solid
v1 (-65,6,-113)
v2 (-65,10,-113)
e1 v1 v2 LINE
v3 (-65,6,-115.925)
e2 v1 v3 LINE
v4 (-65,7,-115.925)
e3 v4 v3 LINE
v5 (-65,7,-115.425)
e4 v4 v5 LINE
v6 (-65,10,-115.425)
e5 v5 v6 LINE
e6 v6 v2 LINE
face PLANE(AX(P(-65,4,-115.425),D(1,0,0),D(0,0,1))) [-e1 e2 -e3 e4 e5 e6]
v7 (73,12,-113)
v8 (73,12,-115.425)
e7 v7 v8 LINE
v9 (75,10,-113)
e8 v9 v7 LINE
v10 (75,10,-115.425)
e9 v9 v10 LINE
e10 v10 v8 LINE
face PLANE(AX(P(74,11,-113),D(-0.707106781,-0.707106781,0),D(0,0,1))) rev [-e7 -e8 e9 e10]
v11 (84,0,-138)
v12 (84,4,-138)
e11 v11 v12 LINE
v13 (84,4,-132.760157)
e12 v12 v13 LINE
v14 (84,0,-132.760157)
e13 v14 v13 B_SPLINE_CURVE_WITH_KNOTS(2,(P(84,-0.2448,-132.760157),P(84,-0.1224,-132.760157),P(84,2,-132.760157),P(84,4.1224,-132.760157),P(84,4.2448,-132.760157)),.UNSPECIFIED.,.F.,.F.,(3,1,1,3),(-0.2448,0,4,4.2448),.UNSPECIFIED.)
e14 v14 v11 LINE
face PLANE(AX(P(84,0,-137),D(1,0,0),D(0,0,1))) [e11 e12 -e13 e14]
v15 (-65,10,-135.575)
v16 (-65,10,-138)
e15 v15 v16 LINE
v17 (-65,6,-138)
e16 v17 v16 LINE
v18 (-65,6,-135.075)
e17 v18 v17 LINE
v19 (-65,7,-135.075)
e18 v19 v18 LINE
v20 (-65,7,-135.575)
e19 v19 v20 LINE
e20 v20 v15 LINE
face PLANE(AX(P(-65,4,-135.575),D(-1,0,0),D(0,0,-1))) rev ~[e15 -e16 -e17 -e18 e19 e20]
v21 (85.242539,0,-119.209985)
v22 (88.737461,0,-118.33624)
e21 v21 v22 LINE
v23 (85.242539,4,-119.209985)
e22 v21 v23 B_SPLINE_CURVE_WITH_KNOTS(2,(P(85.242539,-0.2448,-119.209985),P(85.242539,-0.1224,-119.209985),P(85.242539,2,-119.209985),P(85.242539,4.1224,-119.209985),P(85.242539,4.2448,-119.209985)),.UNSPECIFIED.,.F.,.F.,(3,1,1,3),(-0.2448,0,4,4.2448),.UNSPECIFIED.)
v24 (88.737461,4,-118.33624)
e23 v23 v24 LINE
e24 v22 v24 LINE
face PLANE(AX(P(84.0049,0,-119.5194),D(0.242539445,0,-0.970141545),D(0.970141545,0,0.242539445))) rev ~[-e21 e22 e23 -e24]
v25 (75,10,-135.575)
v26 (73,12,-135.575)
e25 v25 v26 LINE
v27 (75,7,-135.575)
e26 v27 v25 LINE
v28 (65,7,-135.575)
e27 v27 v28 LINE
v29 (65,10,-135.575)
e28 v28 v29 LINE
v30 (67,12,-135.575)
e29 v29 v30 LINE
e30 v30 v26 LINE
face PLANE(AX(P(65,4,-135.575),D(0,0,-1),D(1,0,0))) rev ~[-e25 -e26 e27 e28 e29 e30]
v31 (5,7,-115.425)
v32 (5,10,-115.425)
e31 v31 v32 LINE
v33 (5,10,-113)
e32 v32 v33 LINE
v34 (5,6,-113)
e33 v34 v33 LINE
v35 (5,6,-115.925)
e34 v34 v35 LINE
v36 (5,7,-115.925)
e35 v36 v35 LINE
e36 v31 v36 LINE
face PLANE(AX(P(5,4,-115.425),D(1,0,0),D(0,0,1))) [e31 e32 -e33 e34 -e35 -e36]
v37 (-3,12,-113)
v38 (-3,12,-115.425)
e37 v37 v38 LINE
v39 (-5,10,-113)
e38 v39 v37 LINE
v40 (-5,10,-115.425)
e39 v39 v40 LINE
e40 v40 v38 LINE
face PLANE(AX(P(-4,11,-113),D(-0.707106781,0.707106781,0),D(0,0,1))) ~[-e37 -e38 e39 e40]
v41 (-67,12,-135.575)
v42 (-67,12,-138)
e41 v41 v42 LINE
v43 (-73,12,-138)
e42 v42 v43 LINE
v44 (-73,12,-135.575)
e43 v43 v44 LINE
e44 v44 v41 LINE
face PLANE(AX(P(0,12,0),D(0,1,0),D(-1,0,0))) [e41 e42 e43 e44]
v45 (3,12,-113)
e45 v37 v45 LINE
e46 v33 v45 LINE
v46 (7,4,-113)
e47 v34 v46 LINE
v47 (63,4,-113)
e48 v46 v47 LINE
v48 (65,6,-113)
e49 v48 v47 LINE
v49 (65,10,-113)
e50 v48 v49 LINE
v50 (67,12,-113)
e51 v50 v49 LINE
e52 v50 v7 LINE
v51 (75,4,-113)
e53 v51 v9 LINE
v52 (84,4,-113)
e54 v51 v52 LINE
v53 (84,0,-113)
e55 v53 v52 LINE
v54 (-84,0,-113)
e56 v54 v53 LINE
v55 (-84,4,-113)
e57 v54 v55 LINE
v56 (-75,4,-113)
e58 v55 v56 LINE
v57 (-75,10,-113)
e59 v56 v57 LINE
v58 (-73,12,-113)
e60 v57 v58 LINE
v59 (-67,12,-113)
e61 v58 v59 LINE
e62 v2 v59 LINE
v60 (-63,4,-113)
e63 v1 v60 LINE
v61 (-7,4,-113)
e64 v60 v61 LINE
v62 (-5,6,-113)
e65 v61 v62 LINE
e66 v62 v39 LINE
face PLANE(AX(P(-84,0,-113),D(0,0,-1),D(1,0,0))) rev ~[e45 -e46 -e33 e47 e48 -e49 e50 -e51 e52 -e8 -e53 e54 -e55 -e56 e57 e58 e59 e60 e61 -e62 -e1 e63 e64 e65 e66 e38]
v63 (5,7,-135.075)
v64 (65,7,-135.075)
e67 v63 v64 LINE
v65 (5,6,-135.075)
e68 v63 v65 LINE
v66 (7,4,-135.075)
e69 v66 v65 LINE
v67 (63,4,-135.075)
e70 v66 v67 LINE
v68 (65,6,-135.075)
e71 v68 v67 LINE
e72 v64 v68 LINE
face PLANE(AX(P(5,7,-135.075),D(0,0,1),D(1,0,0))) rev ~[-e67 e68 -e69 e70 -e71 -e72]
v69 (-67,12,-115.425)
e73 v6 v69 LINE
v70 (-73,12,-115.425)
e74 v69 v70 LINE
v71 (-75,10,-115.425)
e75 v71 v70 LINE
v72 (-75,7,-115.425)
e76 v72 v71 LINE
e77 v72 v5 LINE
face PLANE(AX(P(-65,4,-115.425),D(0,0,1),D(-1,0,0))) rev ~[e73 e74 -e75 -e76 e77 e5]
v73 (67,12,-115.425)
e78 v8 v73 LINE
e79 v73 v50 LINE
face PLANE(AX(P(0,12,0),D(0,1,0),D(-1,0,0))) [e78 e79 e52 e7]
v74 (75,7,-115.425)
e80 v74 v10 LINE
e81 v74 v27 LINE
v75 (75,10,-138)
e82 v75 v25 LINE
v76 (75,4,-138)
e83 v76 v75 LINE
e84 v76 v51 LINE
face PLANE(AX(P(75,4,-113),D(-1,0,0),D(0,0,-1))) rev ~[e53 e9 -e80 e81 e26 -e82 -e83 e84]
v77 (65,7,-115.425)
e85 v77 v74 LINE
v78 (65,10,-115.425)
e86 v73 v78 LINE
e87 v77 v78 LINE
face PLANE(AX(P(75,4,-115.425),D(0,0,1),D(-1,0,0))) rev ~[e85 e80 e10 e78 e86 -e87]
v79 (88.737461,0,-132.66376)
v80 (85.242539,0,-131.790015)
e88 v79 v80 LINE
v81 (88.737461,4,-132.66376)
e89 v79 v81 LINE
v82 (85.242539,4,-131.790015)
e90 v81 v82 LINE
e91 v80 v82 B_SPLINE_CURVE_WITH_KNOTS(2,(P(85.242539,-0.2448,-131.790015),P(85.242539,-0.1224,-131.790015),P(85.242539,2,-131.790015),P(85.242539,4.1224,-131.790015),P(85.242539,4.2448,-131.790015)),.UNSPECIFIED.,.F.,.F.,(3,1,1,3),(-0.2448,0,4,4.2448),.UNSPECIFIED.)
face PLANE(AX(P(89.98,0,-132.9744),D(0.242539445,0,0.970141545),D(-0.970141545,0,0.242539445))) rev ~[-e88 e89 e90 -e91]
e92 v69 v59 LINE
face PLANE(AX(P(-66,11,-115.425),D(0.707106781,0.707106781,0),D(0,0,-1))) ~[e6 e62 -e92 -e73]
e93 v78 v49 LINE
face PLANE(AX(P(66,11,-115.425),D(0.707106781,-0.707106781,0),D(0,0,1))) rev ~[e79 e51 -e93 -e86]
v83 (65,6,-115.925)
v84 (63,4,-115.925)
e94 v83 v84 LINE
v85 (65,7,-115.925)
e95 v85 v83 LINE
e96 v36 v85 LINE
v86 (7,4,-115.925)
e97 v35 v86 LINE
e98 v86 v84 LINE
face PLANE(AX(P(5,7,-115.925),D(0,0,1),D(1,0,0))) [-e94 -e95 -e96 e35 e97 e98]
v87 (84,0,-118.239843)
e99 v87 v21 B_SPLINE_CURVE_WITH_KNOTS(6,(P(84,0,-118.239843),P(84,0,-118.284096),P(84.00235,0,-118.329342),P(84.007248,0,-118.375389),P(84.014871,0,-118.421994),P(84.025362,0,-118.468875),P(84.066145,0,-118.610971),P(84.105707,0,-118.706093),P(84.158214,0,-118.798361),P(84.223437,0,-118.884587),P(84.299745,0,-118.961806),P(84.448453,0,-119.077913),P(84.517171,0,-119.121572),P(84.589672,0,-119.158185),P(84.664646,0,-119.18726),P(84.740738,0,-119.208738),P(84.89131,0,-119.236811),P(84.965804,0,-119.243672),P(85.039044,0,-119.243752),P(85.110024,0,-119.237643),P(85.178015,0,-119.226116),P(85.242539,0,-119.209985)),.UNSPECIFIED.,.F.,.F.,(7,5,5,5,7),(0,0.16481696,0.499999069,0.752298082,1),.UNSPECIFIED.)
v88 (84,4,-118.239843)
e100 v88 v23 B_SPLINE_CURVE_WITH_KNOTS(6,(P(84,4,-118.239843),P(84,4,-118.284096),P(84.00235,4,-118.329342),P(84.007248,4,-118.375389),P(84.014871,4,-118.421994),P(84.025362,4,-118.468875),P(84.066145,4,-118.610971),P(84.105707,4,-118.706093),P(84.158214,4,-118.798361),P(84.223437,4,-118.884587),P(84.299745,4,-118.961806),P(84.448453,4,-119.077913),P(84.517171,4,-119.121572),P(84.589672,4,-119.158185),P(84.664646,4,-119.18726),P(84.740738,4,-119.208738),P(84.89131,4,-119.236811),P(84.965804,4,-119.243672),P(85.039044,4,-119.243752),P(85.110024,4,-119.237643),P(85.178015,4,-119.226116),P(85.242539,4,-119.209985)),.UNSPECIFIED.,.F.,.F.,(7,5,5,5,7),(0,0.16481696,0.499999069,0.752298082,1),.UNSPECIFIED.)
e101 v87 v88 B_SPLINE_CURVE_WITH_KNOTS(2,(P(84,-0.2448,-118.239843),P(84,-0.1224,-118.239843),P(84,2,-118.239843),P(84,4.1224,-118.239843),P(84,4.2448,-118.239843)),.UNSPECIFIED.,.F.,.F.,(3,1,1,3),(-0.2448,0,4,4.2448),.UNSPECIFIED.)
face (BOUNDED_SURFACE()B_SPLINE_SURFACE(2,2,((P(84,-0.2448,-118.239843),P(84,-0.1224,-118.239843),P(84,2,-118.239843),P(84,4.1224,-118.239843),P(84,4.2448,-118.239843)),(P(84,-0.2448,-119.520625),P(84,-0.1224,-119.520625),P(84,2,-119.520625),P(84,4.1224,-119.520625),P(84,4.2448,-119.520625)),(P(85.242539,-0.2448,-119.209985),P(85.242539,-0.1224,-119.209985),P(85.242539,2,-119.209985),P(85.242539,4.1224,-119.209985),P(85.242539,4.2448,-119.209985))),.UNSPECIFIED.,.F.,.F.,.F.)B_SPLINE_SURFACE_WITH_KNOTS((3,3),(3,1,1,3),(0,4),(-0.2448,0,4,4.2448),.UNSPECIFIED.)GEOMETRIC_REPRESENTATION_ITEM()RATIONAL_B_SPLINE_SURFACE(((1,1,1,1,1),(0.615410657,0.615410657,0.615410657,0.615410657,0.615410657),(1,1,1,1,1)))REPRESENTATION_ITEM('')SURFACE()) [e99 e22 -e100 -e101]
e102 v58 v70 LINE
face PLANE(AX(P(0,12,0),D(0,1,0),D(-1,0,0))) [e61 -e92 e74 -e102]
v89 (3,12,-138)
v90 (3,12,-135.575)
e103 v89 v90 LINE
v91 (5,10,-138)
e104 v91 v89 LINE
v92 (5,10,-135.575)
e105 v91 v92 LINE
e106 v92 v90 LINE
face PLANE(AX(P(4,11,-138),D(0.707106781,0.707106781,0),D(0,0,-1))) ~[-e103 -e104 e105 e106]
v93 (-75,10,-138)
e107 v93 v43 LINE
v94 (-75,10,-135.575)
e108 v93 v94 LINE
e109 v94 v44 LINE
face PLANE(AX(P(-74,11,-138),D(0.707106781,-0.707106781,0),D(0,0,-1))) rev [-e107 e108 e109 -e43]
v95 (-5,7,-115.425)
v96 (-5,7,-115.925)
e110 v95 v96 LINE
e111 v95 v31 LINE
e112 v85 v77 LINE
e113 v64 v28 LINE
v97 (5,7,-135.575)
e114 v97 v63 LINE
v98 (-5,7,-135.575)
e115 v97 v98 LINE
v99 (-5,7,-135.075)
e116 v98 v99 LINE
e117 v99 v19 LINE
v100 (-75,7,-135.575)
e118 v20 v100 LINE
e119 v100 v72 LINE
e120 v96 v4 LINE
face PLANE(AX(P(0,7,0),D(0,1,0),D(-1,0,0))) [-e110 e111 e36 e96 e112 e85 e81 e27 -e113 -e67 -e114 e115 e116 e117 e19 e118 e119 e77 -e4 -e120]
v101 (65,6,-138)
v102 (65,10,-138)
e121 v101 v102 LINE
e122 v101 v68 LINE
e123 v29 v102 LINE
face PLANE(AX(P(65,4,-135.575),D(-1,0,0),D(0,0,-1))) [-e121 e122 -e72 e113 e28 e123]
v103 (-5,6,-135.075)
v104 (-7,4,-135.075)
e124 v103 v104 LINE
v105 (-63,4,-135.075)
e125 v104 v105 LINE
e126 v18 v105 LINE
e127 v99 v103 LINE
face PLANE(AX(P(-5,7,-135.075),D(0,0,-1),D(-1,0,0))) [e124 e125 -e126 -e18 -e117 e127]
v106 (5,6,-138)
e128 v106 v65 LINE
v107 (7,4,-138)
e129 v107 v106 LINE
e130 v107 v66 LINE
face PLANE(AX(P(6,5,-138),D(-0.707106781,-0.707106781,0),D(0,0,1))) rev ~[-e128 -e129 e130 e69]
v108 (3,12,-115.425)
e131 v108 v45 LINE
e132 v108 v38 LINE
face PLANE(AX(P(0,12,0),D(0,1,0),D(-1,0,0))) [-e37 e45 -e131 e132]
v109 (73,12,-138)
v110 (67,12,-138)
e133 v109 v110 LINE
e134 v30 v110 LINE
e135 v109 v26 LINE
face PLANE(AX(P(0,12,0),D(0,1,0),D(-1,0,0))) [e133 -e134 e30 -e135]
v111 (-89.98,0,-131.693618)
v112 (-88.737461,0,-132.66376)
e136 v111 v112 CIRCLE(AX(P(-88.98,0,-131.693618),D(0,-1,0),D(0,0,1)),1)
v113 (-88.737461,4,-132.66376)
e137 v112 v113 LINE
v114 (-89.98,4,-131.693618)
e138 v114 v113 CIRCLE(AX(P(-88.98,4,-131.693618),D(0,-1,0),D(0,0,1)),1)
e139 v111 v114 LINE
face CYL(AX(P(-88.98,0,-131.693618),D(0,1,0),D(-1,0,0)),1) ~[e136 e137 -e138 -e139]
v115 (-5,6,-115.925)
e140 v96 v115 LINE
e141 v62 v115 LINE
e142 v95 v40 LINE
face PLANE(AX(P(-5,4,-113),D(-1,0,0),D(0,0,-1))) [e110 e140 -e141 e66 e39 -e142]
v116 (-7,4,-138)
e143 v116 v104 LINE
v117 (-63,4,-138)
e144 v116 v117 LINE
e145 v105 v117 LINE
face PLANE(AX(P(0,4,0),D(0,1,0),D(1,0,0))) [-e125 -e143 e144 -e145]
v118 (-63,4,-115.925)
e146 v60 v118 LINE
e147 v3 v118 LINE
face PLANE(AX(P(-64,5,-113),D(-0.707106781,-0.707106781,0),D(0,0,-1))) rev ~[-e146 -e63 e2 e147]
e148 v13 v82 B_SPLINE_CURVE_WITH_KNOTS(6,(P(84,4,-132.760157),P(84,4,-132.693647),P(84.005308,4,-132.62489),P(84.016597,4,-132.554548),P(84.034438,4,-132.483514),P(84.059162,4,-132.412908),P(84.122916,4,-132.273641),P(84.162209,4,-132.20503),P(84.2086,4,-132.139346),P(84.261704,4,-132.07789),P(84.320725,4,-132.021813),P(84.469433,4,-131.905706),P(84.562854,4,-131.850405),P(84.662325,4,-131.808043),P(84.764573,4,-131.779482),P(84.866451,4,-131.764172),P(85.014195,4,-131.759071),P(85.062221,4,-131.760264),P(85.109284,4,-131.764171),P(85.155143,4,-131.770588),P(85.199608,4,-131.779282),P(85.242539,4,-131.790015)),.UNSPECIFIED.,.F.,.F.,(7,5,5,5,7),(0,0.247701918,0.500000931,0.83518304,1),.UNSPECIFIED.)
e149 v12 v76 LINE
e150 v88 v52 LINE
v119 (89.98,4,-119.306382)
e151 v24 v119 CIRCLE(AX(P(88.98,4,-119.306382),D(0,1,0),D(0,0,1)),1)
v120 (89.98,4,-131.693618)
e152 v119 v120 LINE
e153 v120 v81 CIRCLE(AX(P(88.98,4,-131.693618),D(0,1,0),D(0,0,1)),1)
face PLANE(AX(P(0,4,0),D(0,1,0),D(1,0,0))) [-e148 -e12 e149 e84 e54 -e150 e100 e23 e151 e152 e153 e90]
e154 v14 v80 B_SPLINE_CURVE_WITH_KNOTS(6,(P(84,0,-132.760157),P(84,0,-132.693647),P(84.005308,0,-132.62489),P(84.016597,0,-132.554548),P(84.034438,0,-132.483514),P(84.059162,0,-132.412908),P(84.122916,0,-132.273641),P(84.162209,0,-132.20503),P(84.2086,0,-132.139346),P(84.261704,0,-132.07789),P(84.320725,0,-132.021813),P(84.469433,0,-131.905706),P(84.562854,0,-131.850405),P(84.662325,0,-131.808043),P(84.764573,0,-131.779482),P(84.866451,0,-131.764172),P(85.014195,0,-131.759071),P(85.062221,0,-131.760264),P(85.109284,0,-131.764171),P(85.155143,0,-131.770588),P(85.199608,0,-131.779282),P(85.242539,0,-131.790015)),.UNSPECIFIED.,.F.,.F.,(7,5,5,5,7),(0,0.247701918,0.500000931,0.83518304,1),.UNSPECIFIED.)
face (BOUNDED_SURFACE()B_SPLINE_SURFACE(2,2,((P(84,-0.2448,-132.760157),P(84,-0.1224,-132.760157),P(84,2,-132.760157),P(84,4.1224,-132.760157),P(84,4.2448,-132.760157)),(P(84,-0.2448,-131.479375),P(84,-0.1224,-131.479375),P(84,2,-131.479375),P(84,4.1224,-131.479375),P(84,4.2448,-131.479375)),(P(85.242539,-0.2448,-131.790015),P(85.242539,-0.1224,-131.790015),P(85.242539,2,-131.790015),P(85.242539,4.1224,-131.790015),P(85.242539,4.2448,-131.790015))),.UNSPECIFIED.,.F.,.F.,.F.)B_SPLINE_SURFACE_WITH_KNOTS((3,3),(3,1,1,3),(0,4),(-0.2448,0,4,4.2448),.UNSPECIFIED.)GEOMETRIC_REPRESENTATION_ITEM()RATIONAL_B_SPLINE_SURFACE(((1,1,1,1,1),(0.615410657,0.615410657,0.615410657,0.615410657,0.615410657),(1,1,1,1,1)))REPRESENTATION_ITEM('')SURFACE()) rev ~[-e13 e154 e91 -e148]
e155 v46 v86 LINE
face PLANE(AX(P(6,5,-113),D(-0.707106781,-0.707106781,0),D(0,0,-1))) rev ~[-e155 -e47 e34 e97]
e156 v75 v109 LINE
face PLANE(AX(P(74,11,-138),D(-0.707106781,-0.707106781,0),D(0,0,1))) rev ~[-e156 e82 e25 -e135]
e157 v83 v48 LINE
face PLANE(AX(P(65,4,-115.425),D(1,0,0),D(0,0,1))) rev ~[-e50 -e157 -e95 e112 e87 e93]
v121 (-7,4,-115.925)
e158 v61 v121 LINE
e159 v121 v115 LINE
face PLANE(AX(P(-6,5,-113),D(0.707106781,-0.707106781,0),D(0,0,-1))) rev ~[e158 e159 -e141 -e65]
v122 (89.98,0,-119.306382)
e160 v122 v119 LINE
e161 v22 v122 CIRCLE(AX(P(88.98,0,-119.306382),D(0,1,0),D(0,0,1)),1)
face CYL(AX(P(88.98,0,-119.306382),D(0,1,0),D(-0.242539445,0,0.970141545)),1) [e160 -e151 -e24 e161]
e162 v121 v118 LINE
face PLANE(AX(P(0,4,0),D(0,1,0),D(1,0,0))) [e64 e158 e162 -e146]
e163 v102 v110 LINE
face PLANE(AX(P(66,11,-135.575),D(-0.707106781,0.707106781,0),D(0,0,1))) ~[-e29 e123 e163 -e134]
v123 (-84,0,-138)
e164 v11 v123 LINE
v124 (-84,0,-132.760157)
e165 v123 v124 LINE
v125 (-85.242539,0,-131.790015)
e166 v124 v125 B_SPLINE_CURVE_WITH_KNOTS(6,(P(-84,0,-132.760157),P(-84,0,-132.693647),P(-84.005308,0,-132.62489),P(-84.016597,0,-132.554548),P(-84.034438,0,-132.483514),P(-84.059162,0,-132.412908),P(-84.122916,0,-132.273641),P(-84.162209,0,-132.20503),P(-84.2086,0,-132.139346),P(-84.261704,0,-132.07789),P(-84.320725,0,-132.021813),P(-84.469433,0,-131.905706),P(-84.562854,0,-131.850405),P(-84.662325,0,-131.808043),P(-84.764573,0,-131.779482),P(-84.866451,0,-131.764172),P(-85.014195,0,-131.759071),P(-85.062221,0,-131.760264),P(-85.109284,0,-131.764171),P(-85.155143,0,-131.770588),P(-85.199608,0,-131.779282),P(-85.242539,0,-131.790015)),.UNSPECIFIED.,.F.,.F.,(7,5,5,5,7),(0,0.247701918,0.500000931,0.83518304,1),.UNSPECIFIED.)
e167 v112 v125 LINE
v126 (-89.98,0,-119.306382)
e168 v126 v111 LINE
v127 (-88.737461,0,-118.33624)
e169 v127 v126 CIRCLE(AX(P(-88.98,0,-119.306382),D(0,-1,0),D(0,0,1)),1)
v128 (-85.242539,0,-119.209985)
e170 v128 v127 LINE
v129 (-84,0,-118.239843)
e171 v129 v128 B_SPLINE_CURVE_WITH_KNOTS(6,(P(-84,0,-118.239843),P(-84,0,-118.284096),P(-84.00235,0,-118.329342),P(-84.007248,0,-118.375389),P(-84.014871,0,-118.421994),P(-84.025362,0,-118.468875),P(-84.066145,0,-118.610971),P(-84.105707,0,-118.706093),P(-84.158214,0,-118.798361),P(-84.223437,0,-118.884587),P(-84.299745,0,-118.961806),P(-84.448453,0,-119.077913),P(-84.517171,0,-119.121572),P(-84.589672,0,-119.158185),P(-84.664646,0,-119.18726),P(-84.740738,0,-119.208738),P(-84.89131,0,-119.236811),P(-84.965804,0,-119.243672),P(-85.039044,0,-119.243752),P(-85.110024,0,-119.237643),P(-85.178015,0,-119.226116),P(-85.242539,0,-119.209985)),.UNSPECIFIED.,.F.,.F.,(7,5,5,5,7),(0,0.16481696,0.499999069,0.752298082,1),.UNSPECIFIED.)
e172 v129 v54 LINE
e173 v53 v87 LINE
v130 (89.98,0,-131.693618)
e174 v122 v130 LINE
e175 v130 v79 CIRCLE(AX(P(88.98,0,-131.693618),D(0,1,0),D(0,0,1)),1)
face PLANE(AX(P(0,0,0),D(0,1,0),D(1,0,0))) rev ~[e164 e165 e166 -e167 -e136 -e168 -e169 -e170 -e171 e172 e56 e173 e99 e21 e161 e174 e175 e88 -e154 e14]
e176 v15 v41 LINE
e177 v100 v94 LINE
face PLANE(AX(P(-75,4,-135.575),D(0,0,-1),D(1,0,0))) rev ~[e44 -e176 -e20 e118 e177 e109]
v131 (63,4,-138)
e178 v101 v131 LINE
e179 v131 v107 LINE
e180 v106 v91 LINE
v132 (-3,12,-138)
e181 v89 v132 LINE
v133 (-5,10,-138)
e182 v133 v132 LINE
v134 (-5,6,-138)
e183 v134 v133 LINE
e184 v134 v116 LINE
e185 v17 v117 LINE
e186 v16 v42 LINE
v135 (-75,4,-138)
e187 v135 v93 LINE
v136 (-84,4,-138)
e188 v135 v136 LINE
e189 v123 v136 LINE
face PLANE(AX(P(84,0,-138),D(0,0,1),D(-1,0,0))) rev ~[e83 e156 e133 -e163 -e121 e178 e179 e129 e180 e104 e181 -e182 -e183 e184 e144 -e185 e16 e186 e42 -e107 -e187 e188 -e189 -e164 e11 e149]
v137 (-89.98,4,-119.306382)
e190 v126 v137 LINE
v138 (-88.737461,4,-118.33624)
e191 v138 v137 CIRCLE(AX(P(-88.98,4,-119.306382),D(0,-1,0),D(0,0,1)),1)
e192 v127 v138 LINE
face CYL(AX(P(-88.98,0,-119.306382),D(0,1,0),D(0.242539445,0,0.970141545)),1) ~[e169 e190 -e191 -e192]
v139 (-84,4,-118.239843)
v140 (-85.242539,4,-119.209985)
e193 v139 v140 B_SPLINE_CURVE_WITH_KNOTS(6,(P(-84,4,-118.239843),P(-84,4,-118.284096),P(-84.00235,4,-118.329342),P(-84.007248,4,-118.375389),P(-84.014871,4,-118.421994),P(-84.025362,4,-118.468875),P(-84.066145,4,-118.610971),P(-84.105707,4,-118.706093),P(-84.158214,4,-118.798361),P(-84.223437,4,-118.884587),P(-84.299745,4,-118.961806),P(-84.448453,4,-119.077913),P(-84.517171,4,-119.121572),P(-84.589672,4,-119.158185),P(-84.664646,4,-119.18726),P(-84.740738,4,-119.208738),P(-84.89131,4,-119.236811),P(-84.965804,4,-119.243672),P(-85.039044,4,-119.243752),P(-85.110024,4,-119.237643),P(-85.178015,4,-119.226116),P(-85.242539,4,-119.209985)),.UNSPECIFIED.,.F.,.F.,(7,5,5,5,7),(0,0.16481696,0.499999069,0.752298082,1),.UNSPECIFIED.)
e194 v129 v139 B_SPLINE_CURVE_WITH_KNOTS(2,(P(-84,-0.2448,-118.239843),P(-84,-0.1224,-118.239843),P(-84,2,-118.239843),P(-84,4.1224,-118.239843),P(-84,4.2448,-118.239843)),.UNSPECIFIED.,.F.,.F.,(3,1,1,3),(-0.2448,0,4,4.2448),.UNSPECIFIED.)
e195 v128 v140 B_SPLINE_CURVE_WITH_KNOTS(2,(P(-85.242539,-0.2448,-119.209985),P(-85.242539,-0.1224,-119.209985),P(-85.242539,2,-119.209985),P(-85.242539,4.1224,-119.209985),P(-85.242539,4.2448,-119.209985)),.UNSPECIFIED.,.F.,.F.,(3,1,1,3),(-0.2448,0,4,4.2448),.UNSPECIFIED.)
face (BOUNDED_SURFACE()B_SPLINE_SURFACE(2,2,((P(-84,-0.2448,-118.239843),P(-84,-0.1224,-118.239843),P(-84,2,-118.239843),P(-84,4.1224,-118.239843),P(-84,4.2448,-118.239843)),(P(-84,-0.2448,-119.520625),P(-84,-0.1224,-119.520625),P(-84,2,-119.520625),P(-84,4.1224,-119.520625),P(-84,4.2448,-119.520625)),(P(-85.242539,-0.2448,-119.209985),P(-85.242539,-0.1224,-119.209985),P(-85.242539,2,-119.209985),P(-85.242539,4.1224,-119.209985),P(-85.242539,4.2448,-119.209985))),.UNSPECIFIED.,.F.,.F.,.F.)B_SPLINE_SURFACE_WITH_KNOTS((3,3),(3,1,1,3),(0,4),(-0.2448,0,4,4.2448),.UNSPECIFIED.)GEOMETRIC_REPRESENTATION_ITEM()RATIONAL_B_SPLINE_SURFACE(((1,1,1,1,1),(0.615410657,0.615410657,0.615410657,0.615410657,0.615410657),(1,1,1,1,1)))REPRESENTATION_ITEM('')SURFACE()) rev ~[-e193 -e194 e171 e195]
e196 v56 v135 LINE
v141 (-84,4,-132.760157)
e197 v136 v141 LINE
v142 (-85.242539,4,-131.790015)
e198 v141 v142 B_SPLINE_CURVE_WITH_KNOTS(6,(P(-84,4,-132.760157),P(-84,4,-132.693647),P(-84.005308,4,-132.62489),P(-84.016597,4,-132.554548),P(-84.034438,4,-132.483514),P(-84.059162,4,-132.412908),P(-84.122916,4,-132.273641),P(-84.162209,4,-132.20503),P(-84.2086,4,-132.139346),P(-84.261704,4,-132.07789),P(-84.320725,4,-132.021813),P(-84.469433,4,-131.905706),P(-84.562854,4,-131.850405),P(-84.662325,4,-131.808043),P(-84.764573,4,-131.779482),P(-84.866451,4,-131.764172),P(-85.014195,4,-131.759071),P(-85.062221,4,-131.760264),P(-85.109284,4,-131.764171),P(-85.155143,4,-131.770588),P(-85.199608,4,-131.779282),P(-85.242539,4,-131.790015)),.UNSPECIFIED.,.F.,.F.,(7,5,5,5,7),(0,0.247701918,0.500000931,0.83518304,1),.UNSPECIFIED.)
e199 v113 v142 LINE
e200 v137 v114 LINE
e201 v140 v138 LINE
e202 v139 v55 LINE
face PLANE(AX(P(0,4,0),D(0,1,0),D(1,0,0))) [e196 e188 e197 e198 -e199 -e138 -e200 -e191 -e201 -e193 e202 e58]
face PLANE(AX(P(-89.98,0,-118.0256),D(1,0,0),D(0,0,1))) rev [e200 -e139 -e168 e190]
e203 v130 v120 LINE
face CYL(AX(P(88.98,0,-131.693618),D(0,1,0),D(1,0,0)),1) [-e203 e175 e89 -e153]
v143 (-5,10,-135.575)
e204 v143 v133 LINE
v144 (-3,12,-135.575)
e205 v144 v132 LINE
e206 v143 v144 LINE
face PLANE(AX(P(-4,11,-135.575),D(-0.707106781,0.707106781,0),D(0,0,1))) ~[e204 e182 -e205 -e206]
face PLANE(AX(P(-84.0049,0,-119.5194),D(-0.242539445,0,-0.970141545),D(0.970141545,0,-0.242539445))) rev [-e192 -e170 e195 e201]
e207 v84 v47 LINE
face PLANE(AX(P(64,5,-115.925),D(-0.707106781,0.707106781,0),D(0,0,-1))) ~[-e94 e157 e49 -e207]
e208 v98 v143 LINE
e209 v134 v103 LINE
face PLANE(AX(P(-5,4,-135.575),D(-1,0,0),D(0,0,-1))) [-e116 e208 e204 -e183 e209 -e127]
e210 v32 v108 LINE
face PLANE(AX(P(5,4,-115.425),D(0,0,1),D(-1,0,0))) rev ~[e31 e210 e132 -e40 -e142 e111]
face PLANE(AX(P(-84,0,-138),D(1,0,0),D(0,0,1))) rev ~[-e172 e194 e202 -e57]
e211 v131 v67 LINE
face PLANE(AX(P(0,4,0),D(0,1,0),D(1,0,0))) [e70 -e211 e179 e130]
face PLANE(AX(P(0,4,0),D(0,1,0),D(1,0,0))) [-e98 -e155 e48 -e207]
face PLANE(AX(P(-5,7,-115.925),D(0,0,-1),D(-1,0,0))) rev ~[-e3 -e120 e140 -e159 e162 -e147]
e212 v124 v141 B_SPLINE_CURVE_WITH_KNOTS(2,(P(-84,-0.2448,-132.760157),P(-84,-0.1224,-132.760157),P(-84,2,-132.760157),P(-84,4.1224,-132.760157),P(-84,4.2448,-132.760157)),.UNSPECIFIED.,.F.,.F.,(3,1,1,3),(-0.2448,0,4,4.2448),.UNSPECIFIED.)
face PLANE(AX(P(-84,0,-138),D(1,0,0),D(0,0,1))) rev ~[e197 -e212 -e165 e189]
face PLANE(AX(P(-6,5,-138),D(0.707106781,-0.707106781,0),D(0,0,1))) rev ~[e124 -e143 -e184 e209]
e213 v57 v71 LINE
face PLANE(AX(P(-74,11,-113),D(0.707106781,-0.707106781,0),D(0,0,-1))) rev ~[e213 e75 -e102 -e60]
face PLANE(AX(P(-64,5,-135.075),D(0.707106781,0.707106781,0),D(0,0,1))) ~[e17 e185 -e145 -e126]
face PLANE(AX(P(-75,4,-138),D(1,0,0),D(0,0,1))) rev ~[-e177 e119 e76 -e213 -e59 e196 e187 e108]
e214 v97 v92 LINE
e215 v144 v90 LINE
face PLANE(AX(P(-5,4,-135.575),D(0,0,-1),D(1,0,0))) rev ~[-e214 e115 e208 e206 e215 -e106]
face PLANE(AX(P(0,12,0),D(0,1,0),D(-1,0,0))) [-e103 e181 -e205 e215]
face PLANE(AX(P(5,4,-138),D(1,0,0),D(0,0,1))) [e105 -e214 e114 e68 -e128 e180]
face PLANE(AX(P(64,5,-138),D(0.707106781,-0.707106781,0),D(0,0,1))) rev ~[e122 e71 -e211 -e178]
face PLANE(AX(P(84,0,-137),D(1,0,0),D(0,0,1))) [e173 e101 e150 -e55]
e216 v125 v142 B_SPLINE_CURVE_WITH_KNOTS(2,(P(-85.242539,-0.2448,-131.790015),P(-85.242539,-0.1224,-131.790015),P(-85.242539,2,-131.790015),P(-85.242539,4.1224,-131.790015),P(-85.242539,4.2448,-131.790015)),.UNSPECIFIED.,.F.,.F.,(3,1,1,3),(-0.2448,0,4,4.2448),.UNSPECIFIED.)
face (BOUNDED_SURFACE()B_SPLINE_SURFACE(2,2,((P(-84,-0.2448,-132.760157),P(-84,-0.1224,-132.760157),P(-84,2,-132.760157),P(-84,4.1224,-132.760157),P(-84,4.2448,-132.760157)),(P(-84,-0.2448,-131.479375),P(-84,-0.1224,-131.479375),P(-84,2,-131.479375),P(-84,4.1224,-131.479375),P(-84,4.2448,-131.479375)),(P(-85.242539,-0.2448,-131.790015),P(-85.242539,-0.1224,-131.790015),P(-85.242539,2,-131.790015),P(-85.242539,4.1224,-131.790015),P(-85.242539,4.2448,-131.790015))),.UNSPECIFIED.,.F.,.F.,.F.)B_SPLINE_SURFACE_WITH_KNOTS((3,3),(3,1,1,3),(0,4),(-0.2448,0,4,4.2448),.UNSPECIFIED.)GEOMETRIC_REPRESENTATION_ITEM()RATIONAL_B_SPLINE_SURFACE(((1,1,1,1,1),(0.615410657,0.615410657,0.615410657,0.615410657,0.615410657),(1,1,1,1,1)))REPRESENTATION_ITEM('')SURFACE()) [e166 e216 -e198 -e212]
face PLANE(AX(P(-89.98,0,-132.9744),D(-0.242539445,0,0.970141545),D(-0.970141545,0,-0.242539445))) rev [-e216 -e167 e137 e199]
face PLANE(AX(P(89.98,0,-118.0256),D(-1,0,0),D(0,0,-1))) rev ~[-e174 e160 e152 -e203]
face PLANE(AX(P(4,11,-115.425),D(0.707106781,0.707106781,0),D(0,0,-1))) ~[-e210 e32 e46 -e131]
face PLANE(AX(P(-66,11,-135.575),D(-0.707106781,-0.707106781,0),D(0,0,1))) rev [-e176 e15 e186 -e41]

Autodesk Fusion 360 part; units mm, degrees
sketch "Sketch1" plane through (0, 0, 0) normal (0, 1, 0) x (1, 0, 0)
  line L0 (125, 125) -> (-125, 125) construction
  line L1 (-125, 125) -> (-125, -125) construction
  line L2 (-125, -125) -> (125, -125) construction
  line L3 (125, -125) -> (125, 125) construction
  line L4 (125, 125) -> (-125, -125) construction
  line L5 (-125, 125) -> (125, -125) construction
  line L6 (75, 112.1152) -> (-75, 112.1152) construction
  line L7 (-75, 112.1152) -> (-75, 91.9152) construction
  line L8 (-75, 91.9152) -> (75, 91.9152) construction
  line L9 (75, 91.9152) -> (75, 112.1152) construction
  line L10 (75, 112.1152) -> (-75, 91.9152) construction
  line L11 (-75, 112.1152) -> (75, 91.9152) construction
  line L12 (137, 137) -> (92, 137)
  line L13 (92, 137) -> (137, 92)
  line L14 (137, 92) -> (137, 137)
  line L15 (125, 125) -> (137, 137) construction
  line L16 (128, 128) -> (109, 128) construction
  line L17 (109, 128) -> (128, 109) construction
  line L18 (128, 109) -> (128, 128) construction
  line L19 (92, 137) -> (84, 137)
  line L20 (84, 137) -> (84, 114)
  line L21 (84, 114) -> (104, 114)
  line L22 (104, 114) -> (114, 104)
  line L23 (114, 104) -> (114, 84)
  line L24 (114, 84) -> (137, 84)
  line L25 (137, 84) -> (137, 92)
  line L26 (84, 138) -> (-84, 138)
  line L27 (-84, 138) -> (-84, 113)
  line L28 (-84, 113) -> (84, 113)
  line L29 (84, 113) -> (84, 138)
  line L30 (84, 138) -> (-84, 113) construction
  line L31 (-84, 138) -> (84, 113) construction
  point P0 (0, 102.0152)
  point P1 (0, 125.5)
  dimension "d4" = 250
  dimension "d5" = 250
  dimension "d6" = 150
  dimension "d7" = 20.2
  dimension "d8" = 12
  dimension "d9" = 12
  dimension "d10" = 45
  dimension "d11" = 16
  dimension "d12" = 3
  dimension "d13" = 8
  dimension "d14" = 23
  dimension "d15" = 20
  dimension "d16" = 25
  dimension "d17" = 1
ref_plane "WorkPlane1" through (0, 7, 0) normal (0, 1, 0) x (0, 0, 1)
extrude "Extrude1" add sketch "Sketch1" along normal blind 4 contours L20 L26 L27 L28 L29
sketch "Sketch6" plane through (0, 4, 0) normal (0, 1, 0) x (-1, 0, 0)
  line L0 (-84, -113) -> (-84, -138)
  line L1 (-84, -138) -> (84, -138)
  line L2 (84, -138) -> (84, -113)
  line L3 (84, -113) -> (-84, -113)
  line L4 (-75, -135.575) -> (75, -135.575)
  line L5 (75, -135.575) -> (75, -115.425)
  line L6 (75, -115.425) -> (-75, -115.425)
  line L7 (-75, -115.425) -> (-75, -135.575)
  line L8 (-75, -135.575) -> (75, -115.425) construction
  line L9 (75, -135.575) -> (-75, -115.425) construction
  point P0 (0, -125.5)
  point P1 (0, -113)
  point P2 (84, -125.5)
  dimension "d36" = 150
  dimension "d37" = 20.15
extrude "Extrude4" add sketch "Sketch6" along normal up to surface (3 mm away) contours L4 L5 L6 L7
sketch "Sketch7" plane through (0, 4, 0) normal (0, 1, 0) x (-1, 0, 0)
  line L0 (75, -135.575) -> (-75, -135.575)
  line L1 (-75, -135.575) -> (-75, -115.425)
  line L2 (-75, -115.425) -> (75, -115.425)
  line L3 (75, -115.425) -> (75, -135.575)
  line L4 (-84, -113) -> (-84, -138)
  line L5 (-84, -138) -> (84, -138)
  line L6 (84, -138) -> (84, -113)
  line L7 (84, -113) -> (-84, -113)
  line L8 (-5, -135.575) -> (5, -135.575)
  line L9 (5, -135.575) -> (5, -138)
  line L10 (5, -138) -> (-5, -138)
  line L11 (-5, -138) -> (-5, -135.575)
  line L12 (-5, -135.575) -> (5, -138) construction
  line L13 (5, -135.575) -> (-5, -138) construction
  line L14 (-5, -113) -> (5, -113)
  line L15 (5, -113) -> (5, -115.425)
  line L16 (5, -115.425) -> (-5, -115.425)
  line L17 (-5, -115.425) -> (-5, -113)
  line L18 (-5, -113) -> (5, -115.425) construction
  line L19 (5, -113) -> (-5, -115.425) construction
  line L20 (-75, -135.575) -> (-65, -135.575)
  line L21 (-65, -135.575) -> (-65, -138)
  line L22 (-65, -138) -> (-75, -138)
  line L23 (-75, -138) -> (-75, -135.575)
  line L24 (-75, -115.425) -> (-65, -115.425)
  line L25 (-65, -115.425) -> (-65, -113)
  line L26 (-65, -113) -> (-75, -113)
  line L27 (-75, -113) -> (-75, -115.425)
  line L28 (75, -135.575) -> (65, -135.575)
  line L29 (65, -135.575) -> (65, -138)
  line L30 (65, -138) -> (75, -138)
  line L31 (75, -138) -> (75, -135.575)
  line L32 (75, -115.425) -> (65, -115.425)
  line L33 (65, -115.425) -> (65, -113)
  line L34 (65, -113) -> (75, -113)
  line L35 (75, -113) -> (75, -115.425)
  point P0 (0, -136.7875)
  point P1 (0, -114.2125)
  dimension "d42" = 10
extrude "Extrude5" add sketch "Sketch7" along normal blind 8 contours L0 L5 L28 L29 L30 L31 | L2 L7 L32 L33 L34 L35 | L0 L5 L8 L9 L10 L11 | L2 L7 L14 L15 L16 L17 | L0 L5 L20 L21 L22 L23 | L2 L7 L24 L25 L26 L27
chamfer "Chamfer1" distance 2 angle 45 12 edges at (-5, 12, -136.7875) (5, 12, -136.7875) (-5, 12, -114.2125) (5, 12, -114.2125) (-75, 12, -136.7875) (-65, 12, -136.7875) (-75, 12, -114.2125) (-65, 12, -114.2125) (65, 12, -136.7875) (75, 12, -136.7875) (65, 12, -114.2125) (75, 12, -114.2125)
sketch "Sketch9" plane through (0, 0, 0) normal (0, -1, 0) x (1, 0, 0)
  line L0 (84, -138) -> (84, -113)
  line L1 (84, -113) -> (-84, -113)
  line L2 (-84, -113) -> (-84, -138)
  line L3 (-84, -138) -> (84, -138)
  line L4 (84, -119.5) -> (90, -118)
  line L5 (90, -118) -> (90, -133)
  line L6 (90, -133) -> (84, -131.5)
  line L7 (90, -118) -> (84, -131.5) construction
  line L8 (90, -133) -> (84, -119.5) construction
  line L9 (90, -125.5) -> (84, -125.5) construction
  line L10 (84.0049, -119.5194) -> (89.98, -118.0256)
  line L11 (89.98, -118.0256) -> (89.98, -132.9744)
  line L12 (89.98, -132.9744) -> (84.0049, -131.4806)
  line L13 (84.0049, -131.4806) -> (84, -131.4794)
  line L14 (84.0049, -119.5194) -> (84, -119.5206)
  point P0 (90, -125.5)
  dimension "d51" = 12
  dimension "d52" = 15
  dimension "d53" = 6
  dimension "d56" = 0.02
extrude "Extrude7" add sketch "Sketch9" against normal blind 4 contours L0 L10 L11 L12 L13 L14
mirror "Mirror2" about plane through (0, 0, 0) normal (1, 0, 0) of "Extrude7"
fillet "Fillet2" radius 1 8 edges at (-84, 2, -119.5206) (-89.98, 2, -118.0256) (-84, 2, -131.4794) (-89.98, 2, -132.9744) (84, 2, -119.5206) (89.98, 2, -118.0256) (89.98, 2, -132.9744) (84, 2, -131.4794)
sketch "Sketch11" plane through (0, 7, 0) normal (0, 1, 0) x (-1, 0, 0)
  line L0 (-65, -115.425) -> (-75, -115.425)
  line L1 (-75, -115.425) -> (-75, -135.575)
  line L2 (-75, -135.575) -> (-65, -135.575)
  line L3 (-65, -135.575) -> (-5, -135.575)
  line L4 (-5, -135.575) -> (5, -135.575)
  line L5 (5, -135.575) -> (65, -135.575)
  line L6 (65, -135.575) -> (75, -135.575)
  line L7 (75, -135.575) -> (75, -115.425)
  line L8 (75, -115.425) -> (65, -115.425)
  line L9 (65, -115.425) -> (5, -115.425)
  line L10 (5, -115.425) -> (-5, -115.425)
  line L11 (-5, -115.425) -> (-65, -115.425)
  line L12 (65, -135.575) -> (5, -135.575)
  line L13 (5, -135.575) -> (5, -135.075)
  line L14 (5, -135.075) -> (65, -135.075)
  line L15 (65, -135.075) -> (65, -135.575)
  line L16 (65, -115.425) -> (5, -115.425)
  line L17 (5, -115.425) -> (5, -115.925)
  line L18 (5, -115.925) -> (65, -115.925)
  line L19 (65, -115.925) -> (65, -115.425)
  line L20 (-65, -135.575) -> (-5, -135.575)
  line L21 (-5, -135.575) -> (-5, -135.075)
  line L22 (-5, -135.075) -> (-65, -135.075)
  line L23 (-65, -135.075) -> (-65, -135.575)
  line L24 (-65, -115.425) -> (-5, -115.425)
  line L25 (-5, -115.425) -> (-5, -115.925)
  line L26 (-5, -115.925) -> (-65, -115.925)
  line L27 (-65, -115.925) -> (-65, -115.425)
  dimension "d63" = 0.5
extrude "Extrude8" cut sketch "Sketch11" against normal blind 3 contours L11 L24 L25 L26 L27 | L9 L16 L17 L18 L19 | L3 L20 L21 L22 L23 | L5 L12 L13 L14 L15
chamfer "Chamfer2" distance 2 angle 45 8 edges at (5, 4, -114.4625) (-5, 4, -114.4625) (-5, 4, -136.5375) (65, 4, -136.5375) (65, 4, -114.4625) (5, 4, -136.5375) (-65, 4, -114.4625) (-65, 4, -136.5375)
equation "sensor_ref = 7 mm"
